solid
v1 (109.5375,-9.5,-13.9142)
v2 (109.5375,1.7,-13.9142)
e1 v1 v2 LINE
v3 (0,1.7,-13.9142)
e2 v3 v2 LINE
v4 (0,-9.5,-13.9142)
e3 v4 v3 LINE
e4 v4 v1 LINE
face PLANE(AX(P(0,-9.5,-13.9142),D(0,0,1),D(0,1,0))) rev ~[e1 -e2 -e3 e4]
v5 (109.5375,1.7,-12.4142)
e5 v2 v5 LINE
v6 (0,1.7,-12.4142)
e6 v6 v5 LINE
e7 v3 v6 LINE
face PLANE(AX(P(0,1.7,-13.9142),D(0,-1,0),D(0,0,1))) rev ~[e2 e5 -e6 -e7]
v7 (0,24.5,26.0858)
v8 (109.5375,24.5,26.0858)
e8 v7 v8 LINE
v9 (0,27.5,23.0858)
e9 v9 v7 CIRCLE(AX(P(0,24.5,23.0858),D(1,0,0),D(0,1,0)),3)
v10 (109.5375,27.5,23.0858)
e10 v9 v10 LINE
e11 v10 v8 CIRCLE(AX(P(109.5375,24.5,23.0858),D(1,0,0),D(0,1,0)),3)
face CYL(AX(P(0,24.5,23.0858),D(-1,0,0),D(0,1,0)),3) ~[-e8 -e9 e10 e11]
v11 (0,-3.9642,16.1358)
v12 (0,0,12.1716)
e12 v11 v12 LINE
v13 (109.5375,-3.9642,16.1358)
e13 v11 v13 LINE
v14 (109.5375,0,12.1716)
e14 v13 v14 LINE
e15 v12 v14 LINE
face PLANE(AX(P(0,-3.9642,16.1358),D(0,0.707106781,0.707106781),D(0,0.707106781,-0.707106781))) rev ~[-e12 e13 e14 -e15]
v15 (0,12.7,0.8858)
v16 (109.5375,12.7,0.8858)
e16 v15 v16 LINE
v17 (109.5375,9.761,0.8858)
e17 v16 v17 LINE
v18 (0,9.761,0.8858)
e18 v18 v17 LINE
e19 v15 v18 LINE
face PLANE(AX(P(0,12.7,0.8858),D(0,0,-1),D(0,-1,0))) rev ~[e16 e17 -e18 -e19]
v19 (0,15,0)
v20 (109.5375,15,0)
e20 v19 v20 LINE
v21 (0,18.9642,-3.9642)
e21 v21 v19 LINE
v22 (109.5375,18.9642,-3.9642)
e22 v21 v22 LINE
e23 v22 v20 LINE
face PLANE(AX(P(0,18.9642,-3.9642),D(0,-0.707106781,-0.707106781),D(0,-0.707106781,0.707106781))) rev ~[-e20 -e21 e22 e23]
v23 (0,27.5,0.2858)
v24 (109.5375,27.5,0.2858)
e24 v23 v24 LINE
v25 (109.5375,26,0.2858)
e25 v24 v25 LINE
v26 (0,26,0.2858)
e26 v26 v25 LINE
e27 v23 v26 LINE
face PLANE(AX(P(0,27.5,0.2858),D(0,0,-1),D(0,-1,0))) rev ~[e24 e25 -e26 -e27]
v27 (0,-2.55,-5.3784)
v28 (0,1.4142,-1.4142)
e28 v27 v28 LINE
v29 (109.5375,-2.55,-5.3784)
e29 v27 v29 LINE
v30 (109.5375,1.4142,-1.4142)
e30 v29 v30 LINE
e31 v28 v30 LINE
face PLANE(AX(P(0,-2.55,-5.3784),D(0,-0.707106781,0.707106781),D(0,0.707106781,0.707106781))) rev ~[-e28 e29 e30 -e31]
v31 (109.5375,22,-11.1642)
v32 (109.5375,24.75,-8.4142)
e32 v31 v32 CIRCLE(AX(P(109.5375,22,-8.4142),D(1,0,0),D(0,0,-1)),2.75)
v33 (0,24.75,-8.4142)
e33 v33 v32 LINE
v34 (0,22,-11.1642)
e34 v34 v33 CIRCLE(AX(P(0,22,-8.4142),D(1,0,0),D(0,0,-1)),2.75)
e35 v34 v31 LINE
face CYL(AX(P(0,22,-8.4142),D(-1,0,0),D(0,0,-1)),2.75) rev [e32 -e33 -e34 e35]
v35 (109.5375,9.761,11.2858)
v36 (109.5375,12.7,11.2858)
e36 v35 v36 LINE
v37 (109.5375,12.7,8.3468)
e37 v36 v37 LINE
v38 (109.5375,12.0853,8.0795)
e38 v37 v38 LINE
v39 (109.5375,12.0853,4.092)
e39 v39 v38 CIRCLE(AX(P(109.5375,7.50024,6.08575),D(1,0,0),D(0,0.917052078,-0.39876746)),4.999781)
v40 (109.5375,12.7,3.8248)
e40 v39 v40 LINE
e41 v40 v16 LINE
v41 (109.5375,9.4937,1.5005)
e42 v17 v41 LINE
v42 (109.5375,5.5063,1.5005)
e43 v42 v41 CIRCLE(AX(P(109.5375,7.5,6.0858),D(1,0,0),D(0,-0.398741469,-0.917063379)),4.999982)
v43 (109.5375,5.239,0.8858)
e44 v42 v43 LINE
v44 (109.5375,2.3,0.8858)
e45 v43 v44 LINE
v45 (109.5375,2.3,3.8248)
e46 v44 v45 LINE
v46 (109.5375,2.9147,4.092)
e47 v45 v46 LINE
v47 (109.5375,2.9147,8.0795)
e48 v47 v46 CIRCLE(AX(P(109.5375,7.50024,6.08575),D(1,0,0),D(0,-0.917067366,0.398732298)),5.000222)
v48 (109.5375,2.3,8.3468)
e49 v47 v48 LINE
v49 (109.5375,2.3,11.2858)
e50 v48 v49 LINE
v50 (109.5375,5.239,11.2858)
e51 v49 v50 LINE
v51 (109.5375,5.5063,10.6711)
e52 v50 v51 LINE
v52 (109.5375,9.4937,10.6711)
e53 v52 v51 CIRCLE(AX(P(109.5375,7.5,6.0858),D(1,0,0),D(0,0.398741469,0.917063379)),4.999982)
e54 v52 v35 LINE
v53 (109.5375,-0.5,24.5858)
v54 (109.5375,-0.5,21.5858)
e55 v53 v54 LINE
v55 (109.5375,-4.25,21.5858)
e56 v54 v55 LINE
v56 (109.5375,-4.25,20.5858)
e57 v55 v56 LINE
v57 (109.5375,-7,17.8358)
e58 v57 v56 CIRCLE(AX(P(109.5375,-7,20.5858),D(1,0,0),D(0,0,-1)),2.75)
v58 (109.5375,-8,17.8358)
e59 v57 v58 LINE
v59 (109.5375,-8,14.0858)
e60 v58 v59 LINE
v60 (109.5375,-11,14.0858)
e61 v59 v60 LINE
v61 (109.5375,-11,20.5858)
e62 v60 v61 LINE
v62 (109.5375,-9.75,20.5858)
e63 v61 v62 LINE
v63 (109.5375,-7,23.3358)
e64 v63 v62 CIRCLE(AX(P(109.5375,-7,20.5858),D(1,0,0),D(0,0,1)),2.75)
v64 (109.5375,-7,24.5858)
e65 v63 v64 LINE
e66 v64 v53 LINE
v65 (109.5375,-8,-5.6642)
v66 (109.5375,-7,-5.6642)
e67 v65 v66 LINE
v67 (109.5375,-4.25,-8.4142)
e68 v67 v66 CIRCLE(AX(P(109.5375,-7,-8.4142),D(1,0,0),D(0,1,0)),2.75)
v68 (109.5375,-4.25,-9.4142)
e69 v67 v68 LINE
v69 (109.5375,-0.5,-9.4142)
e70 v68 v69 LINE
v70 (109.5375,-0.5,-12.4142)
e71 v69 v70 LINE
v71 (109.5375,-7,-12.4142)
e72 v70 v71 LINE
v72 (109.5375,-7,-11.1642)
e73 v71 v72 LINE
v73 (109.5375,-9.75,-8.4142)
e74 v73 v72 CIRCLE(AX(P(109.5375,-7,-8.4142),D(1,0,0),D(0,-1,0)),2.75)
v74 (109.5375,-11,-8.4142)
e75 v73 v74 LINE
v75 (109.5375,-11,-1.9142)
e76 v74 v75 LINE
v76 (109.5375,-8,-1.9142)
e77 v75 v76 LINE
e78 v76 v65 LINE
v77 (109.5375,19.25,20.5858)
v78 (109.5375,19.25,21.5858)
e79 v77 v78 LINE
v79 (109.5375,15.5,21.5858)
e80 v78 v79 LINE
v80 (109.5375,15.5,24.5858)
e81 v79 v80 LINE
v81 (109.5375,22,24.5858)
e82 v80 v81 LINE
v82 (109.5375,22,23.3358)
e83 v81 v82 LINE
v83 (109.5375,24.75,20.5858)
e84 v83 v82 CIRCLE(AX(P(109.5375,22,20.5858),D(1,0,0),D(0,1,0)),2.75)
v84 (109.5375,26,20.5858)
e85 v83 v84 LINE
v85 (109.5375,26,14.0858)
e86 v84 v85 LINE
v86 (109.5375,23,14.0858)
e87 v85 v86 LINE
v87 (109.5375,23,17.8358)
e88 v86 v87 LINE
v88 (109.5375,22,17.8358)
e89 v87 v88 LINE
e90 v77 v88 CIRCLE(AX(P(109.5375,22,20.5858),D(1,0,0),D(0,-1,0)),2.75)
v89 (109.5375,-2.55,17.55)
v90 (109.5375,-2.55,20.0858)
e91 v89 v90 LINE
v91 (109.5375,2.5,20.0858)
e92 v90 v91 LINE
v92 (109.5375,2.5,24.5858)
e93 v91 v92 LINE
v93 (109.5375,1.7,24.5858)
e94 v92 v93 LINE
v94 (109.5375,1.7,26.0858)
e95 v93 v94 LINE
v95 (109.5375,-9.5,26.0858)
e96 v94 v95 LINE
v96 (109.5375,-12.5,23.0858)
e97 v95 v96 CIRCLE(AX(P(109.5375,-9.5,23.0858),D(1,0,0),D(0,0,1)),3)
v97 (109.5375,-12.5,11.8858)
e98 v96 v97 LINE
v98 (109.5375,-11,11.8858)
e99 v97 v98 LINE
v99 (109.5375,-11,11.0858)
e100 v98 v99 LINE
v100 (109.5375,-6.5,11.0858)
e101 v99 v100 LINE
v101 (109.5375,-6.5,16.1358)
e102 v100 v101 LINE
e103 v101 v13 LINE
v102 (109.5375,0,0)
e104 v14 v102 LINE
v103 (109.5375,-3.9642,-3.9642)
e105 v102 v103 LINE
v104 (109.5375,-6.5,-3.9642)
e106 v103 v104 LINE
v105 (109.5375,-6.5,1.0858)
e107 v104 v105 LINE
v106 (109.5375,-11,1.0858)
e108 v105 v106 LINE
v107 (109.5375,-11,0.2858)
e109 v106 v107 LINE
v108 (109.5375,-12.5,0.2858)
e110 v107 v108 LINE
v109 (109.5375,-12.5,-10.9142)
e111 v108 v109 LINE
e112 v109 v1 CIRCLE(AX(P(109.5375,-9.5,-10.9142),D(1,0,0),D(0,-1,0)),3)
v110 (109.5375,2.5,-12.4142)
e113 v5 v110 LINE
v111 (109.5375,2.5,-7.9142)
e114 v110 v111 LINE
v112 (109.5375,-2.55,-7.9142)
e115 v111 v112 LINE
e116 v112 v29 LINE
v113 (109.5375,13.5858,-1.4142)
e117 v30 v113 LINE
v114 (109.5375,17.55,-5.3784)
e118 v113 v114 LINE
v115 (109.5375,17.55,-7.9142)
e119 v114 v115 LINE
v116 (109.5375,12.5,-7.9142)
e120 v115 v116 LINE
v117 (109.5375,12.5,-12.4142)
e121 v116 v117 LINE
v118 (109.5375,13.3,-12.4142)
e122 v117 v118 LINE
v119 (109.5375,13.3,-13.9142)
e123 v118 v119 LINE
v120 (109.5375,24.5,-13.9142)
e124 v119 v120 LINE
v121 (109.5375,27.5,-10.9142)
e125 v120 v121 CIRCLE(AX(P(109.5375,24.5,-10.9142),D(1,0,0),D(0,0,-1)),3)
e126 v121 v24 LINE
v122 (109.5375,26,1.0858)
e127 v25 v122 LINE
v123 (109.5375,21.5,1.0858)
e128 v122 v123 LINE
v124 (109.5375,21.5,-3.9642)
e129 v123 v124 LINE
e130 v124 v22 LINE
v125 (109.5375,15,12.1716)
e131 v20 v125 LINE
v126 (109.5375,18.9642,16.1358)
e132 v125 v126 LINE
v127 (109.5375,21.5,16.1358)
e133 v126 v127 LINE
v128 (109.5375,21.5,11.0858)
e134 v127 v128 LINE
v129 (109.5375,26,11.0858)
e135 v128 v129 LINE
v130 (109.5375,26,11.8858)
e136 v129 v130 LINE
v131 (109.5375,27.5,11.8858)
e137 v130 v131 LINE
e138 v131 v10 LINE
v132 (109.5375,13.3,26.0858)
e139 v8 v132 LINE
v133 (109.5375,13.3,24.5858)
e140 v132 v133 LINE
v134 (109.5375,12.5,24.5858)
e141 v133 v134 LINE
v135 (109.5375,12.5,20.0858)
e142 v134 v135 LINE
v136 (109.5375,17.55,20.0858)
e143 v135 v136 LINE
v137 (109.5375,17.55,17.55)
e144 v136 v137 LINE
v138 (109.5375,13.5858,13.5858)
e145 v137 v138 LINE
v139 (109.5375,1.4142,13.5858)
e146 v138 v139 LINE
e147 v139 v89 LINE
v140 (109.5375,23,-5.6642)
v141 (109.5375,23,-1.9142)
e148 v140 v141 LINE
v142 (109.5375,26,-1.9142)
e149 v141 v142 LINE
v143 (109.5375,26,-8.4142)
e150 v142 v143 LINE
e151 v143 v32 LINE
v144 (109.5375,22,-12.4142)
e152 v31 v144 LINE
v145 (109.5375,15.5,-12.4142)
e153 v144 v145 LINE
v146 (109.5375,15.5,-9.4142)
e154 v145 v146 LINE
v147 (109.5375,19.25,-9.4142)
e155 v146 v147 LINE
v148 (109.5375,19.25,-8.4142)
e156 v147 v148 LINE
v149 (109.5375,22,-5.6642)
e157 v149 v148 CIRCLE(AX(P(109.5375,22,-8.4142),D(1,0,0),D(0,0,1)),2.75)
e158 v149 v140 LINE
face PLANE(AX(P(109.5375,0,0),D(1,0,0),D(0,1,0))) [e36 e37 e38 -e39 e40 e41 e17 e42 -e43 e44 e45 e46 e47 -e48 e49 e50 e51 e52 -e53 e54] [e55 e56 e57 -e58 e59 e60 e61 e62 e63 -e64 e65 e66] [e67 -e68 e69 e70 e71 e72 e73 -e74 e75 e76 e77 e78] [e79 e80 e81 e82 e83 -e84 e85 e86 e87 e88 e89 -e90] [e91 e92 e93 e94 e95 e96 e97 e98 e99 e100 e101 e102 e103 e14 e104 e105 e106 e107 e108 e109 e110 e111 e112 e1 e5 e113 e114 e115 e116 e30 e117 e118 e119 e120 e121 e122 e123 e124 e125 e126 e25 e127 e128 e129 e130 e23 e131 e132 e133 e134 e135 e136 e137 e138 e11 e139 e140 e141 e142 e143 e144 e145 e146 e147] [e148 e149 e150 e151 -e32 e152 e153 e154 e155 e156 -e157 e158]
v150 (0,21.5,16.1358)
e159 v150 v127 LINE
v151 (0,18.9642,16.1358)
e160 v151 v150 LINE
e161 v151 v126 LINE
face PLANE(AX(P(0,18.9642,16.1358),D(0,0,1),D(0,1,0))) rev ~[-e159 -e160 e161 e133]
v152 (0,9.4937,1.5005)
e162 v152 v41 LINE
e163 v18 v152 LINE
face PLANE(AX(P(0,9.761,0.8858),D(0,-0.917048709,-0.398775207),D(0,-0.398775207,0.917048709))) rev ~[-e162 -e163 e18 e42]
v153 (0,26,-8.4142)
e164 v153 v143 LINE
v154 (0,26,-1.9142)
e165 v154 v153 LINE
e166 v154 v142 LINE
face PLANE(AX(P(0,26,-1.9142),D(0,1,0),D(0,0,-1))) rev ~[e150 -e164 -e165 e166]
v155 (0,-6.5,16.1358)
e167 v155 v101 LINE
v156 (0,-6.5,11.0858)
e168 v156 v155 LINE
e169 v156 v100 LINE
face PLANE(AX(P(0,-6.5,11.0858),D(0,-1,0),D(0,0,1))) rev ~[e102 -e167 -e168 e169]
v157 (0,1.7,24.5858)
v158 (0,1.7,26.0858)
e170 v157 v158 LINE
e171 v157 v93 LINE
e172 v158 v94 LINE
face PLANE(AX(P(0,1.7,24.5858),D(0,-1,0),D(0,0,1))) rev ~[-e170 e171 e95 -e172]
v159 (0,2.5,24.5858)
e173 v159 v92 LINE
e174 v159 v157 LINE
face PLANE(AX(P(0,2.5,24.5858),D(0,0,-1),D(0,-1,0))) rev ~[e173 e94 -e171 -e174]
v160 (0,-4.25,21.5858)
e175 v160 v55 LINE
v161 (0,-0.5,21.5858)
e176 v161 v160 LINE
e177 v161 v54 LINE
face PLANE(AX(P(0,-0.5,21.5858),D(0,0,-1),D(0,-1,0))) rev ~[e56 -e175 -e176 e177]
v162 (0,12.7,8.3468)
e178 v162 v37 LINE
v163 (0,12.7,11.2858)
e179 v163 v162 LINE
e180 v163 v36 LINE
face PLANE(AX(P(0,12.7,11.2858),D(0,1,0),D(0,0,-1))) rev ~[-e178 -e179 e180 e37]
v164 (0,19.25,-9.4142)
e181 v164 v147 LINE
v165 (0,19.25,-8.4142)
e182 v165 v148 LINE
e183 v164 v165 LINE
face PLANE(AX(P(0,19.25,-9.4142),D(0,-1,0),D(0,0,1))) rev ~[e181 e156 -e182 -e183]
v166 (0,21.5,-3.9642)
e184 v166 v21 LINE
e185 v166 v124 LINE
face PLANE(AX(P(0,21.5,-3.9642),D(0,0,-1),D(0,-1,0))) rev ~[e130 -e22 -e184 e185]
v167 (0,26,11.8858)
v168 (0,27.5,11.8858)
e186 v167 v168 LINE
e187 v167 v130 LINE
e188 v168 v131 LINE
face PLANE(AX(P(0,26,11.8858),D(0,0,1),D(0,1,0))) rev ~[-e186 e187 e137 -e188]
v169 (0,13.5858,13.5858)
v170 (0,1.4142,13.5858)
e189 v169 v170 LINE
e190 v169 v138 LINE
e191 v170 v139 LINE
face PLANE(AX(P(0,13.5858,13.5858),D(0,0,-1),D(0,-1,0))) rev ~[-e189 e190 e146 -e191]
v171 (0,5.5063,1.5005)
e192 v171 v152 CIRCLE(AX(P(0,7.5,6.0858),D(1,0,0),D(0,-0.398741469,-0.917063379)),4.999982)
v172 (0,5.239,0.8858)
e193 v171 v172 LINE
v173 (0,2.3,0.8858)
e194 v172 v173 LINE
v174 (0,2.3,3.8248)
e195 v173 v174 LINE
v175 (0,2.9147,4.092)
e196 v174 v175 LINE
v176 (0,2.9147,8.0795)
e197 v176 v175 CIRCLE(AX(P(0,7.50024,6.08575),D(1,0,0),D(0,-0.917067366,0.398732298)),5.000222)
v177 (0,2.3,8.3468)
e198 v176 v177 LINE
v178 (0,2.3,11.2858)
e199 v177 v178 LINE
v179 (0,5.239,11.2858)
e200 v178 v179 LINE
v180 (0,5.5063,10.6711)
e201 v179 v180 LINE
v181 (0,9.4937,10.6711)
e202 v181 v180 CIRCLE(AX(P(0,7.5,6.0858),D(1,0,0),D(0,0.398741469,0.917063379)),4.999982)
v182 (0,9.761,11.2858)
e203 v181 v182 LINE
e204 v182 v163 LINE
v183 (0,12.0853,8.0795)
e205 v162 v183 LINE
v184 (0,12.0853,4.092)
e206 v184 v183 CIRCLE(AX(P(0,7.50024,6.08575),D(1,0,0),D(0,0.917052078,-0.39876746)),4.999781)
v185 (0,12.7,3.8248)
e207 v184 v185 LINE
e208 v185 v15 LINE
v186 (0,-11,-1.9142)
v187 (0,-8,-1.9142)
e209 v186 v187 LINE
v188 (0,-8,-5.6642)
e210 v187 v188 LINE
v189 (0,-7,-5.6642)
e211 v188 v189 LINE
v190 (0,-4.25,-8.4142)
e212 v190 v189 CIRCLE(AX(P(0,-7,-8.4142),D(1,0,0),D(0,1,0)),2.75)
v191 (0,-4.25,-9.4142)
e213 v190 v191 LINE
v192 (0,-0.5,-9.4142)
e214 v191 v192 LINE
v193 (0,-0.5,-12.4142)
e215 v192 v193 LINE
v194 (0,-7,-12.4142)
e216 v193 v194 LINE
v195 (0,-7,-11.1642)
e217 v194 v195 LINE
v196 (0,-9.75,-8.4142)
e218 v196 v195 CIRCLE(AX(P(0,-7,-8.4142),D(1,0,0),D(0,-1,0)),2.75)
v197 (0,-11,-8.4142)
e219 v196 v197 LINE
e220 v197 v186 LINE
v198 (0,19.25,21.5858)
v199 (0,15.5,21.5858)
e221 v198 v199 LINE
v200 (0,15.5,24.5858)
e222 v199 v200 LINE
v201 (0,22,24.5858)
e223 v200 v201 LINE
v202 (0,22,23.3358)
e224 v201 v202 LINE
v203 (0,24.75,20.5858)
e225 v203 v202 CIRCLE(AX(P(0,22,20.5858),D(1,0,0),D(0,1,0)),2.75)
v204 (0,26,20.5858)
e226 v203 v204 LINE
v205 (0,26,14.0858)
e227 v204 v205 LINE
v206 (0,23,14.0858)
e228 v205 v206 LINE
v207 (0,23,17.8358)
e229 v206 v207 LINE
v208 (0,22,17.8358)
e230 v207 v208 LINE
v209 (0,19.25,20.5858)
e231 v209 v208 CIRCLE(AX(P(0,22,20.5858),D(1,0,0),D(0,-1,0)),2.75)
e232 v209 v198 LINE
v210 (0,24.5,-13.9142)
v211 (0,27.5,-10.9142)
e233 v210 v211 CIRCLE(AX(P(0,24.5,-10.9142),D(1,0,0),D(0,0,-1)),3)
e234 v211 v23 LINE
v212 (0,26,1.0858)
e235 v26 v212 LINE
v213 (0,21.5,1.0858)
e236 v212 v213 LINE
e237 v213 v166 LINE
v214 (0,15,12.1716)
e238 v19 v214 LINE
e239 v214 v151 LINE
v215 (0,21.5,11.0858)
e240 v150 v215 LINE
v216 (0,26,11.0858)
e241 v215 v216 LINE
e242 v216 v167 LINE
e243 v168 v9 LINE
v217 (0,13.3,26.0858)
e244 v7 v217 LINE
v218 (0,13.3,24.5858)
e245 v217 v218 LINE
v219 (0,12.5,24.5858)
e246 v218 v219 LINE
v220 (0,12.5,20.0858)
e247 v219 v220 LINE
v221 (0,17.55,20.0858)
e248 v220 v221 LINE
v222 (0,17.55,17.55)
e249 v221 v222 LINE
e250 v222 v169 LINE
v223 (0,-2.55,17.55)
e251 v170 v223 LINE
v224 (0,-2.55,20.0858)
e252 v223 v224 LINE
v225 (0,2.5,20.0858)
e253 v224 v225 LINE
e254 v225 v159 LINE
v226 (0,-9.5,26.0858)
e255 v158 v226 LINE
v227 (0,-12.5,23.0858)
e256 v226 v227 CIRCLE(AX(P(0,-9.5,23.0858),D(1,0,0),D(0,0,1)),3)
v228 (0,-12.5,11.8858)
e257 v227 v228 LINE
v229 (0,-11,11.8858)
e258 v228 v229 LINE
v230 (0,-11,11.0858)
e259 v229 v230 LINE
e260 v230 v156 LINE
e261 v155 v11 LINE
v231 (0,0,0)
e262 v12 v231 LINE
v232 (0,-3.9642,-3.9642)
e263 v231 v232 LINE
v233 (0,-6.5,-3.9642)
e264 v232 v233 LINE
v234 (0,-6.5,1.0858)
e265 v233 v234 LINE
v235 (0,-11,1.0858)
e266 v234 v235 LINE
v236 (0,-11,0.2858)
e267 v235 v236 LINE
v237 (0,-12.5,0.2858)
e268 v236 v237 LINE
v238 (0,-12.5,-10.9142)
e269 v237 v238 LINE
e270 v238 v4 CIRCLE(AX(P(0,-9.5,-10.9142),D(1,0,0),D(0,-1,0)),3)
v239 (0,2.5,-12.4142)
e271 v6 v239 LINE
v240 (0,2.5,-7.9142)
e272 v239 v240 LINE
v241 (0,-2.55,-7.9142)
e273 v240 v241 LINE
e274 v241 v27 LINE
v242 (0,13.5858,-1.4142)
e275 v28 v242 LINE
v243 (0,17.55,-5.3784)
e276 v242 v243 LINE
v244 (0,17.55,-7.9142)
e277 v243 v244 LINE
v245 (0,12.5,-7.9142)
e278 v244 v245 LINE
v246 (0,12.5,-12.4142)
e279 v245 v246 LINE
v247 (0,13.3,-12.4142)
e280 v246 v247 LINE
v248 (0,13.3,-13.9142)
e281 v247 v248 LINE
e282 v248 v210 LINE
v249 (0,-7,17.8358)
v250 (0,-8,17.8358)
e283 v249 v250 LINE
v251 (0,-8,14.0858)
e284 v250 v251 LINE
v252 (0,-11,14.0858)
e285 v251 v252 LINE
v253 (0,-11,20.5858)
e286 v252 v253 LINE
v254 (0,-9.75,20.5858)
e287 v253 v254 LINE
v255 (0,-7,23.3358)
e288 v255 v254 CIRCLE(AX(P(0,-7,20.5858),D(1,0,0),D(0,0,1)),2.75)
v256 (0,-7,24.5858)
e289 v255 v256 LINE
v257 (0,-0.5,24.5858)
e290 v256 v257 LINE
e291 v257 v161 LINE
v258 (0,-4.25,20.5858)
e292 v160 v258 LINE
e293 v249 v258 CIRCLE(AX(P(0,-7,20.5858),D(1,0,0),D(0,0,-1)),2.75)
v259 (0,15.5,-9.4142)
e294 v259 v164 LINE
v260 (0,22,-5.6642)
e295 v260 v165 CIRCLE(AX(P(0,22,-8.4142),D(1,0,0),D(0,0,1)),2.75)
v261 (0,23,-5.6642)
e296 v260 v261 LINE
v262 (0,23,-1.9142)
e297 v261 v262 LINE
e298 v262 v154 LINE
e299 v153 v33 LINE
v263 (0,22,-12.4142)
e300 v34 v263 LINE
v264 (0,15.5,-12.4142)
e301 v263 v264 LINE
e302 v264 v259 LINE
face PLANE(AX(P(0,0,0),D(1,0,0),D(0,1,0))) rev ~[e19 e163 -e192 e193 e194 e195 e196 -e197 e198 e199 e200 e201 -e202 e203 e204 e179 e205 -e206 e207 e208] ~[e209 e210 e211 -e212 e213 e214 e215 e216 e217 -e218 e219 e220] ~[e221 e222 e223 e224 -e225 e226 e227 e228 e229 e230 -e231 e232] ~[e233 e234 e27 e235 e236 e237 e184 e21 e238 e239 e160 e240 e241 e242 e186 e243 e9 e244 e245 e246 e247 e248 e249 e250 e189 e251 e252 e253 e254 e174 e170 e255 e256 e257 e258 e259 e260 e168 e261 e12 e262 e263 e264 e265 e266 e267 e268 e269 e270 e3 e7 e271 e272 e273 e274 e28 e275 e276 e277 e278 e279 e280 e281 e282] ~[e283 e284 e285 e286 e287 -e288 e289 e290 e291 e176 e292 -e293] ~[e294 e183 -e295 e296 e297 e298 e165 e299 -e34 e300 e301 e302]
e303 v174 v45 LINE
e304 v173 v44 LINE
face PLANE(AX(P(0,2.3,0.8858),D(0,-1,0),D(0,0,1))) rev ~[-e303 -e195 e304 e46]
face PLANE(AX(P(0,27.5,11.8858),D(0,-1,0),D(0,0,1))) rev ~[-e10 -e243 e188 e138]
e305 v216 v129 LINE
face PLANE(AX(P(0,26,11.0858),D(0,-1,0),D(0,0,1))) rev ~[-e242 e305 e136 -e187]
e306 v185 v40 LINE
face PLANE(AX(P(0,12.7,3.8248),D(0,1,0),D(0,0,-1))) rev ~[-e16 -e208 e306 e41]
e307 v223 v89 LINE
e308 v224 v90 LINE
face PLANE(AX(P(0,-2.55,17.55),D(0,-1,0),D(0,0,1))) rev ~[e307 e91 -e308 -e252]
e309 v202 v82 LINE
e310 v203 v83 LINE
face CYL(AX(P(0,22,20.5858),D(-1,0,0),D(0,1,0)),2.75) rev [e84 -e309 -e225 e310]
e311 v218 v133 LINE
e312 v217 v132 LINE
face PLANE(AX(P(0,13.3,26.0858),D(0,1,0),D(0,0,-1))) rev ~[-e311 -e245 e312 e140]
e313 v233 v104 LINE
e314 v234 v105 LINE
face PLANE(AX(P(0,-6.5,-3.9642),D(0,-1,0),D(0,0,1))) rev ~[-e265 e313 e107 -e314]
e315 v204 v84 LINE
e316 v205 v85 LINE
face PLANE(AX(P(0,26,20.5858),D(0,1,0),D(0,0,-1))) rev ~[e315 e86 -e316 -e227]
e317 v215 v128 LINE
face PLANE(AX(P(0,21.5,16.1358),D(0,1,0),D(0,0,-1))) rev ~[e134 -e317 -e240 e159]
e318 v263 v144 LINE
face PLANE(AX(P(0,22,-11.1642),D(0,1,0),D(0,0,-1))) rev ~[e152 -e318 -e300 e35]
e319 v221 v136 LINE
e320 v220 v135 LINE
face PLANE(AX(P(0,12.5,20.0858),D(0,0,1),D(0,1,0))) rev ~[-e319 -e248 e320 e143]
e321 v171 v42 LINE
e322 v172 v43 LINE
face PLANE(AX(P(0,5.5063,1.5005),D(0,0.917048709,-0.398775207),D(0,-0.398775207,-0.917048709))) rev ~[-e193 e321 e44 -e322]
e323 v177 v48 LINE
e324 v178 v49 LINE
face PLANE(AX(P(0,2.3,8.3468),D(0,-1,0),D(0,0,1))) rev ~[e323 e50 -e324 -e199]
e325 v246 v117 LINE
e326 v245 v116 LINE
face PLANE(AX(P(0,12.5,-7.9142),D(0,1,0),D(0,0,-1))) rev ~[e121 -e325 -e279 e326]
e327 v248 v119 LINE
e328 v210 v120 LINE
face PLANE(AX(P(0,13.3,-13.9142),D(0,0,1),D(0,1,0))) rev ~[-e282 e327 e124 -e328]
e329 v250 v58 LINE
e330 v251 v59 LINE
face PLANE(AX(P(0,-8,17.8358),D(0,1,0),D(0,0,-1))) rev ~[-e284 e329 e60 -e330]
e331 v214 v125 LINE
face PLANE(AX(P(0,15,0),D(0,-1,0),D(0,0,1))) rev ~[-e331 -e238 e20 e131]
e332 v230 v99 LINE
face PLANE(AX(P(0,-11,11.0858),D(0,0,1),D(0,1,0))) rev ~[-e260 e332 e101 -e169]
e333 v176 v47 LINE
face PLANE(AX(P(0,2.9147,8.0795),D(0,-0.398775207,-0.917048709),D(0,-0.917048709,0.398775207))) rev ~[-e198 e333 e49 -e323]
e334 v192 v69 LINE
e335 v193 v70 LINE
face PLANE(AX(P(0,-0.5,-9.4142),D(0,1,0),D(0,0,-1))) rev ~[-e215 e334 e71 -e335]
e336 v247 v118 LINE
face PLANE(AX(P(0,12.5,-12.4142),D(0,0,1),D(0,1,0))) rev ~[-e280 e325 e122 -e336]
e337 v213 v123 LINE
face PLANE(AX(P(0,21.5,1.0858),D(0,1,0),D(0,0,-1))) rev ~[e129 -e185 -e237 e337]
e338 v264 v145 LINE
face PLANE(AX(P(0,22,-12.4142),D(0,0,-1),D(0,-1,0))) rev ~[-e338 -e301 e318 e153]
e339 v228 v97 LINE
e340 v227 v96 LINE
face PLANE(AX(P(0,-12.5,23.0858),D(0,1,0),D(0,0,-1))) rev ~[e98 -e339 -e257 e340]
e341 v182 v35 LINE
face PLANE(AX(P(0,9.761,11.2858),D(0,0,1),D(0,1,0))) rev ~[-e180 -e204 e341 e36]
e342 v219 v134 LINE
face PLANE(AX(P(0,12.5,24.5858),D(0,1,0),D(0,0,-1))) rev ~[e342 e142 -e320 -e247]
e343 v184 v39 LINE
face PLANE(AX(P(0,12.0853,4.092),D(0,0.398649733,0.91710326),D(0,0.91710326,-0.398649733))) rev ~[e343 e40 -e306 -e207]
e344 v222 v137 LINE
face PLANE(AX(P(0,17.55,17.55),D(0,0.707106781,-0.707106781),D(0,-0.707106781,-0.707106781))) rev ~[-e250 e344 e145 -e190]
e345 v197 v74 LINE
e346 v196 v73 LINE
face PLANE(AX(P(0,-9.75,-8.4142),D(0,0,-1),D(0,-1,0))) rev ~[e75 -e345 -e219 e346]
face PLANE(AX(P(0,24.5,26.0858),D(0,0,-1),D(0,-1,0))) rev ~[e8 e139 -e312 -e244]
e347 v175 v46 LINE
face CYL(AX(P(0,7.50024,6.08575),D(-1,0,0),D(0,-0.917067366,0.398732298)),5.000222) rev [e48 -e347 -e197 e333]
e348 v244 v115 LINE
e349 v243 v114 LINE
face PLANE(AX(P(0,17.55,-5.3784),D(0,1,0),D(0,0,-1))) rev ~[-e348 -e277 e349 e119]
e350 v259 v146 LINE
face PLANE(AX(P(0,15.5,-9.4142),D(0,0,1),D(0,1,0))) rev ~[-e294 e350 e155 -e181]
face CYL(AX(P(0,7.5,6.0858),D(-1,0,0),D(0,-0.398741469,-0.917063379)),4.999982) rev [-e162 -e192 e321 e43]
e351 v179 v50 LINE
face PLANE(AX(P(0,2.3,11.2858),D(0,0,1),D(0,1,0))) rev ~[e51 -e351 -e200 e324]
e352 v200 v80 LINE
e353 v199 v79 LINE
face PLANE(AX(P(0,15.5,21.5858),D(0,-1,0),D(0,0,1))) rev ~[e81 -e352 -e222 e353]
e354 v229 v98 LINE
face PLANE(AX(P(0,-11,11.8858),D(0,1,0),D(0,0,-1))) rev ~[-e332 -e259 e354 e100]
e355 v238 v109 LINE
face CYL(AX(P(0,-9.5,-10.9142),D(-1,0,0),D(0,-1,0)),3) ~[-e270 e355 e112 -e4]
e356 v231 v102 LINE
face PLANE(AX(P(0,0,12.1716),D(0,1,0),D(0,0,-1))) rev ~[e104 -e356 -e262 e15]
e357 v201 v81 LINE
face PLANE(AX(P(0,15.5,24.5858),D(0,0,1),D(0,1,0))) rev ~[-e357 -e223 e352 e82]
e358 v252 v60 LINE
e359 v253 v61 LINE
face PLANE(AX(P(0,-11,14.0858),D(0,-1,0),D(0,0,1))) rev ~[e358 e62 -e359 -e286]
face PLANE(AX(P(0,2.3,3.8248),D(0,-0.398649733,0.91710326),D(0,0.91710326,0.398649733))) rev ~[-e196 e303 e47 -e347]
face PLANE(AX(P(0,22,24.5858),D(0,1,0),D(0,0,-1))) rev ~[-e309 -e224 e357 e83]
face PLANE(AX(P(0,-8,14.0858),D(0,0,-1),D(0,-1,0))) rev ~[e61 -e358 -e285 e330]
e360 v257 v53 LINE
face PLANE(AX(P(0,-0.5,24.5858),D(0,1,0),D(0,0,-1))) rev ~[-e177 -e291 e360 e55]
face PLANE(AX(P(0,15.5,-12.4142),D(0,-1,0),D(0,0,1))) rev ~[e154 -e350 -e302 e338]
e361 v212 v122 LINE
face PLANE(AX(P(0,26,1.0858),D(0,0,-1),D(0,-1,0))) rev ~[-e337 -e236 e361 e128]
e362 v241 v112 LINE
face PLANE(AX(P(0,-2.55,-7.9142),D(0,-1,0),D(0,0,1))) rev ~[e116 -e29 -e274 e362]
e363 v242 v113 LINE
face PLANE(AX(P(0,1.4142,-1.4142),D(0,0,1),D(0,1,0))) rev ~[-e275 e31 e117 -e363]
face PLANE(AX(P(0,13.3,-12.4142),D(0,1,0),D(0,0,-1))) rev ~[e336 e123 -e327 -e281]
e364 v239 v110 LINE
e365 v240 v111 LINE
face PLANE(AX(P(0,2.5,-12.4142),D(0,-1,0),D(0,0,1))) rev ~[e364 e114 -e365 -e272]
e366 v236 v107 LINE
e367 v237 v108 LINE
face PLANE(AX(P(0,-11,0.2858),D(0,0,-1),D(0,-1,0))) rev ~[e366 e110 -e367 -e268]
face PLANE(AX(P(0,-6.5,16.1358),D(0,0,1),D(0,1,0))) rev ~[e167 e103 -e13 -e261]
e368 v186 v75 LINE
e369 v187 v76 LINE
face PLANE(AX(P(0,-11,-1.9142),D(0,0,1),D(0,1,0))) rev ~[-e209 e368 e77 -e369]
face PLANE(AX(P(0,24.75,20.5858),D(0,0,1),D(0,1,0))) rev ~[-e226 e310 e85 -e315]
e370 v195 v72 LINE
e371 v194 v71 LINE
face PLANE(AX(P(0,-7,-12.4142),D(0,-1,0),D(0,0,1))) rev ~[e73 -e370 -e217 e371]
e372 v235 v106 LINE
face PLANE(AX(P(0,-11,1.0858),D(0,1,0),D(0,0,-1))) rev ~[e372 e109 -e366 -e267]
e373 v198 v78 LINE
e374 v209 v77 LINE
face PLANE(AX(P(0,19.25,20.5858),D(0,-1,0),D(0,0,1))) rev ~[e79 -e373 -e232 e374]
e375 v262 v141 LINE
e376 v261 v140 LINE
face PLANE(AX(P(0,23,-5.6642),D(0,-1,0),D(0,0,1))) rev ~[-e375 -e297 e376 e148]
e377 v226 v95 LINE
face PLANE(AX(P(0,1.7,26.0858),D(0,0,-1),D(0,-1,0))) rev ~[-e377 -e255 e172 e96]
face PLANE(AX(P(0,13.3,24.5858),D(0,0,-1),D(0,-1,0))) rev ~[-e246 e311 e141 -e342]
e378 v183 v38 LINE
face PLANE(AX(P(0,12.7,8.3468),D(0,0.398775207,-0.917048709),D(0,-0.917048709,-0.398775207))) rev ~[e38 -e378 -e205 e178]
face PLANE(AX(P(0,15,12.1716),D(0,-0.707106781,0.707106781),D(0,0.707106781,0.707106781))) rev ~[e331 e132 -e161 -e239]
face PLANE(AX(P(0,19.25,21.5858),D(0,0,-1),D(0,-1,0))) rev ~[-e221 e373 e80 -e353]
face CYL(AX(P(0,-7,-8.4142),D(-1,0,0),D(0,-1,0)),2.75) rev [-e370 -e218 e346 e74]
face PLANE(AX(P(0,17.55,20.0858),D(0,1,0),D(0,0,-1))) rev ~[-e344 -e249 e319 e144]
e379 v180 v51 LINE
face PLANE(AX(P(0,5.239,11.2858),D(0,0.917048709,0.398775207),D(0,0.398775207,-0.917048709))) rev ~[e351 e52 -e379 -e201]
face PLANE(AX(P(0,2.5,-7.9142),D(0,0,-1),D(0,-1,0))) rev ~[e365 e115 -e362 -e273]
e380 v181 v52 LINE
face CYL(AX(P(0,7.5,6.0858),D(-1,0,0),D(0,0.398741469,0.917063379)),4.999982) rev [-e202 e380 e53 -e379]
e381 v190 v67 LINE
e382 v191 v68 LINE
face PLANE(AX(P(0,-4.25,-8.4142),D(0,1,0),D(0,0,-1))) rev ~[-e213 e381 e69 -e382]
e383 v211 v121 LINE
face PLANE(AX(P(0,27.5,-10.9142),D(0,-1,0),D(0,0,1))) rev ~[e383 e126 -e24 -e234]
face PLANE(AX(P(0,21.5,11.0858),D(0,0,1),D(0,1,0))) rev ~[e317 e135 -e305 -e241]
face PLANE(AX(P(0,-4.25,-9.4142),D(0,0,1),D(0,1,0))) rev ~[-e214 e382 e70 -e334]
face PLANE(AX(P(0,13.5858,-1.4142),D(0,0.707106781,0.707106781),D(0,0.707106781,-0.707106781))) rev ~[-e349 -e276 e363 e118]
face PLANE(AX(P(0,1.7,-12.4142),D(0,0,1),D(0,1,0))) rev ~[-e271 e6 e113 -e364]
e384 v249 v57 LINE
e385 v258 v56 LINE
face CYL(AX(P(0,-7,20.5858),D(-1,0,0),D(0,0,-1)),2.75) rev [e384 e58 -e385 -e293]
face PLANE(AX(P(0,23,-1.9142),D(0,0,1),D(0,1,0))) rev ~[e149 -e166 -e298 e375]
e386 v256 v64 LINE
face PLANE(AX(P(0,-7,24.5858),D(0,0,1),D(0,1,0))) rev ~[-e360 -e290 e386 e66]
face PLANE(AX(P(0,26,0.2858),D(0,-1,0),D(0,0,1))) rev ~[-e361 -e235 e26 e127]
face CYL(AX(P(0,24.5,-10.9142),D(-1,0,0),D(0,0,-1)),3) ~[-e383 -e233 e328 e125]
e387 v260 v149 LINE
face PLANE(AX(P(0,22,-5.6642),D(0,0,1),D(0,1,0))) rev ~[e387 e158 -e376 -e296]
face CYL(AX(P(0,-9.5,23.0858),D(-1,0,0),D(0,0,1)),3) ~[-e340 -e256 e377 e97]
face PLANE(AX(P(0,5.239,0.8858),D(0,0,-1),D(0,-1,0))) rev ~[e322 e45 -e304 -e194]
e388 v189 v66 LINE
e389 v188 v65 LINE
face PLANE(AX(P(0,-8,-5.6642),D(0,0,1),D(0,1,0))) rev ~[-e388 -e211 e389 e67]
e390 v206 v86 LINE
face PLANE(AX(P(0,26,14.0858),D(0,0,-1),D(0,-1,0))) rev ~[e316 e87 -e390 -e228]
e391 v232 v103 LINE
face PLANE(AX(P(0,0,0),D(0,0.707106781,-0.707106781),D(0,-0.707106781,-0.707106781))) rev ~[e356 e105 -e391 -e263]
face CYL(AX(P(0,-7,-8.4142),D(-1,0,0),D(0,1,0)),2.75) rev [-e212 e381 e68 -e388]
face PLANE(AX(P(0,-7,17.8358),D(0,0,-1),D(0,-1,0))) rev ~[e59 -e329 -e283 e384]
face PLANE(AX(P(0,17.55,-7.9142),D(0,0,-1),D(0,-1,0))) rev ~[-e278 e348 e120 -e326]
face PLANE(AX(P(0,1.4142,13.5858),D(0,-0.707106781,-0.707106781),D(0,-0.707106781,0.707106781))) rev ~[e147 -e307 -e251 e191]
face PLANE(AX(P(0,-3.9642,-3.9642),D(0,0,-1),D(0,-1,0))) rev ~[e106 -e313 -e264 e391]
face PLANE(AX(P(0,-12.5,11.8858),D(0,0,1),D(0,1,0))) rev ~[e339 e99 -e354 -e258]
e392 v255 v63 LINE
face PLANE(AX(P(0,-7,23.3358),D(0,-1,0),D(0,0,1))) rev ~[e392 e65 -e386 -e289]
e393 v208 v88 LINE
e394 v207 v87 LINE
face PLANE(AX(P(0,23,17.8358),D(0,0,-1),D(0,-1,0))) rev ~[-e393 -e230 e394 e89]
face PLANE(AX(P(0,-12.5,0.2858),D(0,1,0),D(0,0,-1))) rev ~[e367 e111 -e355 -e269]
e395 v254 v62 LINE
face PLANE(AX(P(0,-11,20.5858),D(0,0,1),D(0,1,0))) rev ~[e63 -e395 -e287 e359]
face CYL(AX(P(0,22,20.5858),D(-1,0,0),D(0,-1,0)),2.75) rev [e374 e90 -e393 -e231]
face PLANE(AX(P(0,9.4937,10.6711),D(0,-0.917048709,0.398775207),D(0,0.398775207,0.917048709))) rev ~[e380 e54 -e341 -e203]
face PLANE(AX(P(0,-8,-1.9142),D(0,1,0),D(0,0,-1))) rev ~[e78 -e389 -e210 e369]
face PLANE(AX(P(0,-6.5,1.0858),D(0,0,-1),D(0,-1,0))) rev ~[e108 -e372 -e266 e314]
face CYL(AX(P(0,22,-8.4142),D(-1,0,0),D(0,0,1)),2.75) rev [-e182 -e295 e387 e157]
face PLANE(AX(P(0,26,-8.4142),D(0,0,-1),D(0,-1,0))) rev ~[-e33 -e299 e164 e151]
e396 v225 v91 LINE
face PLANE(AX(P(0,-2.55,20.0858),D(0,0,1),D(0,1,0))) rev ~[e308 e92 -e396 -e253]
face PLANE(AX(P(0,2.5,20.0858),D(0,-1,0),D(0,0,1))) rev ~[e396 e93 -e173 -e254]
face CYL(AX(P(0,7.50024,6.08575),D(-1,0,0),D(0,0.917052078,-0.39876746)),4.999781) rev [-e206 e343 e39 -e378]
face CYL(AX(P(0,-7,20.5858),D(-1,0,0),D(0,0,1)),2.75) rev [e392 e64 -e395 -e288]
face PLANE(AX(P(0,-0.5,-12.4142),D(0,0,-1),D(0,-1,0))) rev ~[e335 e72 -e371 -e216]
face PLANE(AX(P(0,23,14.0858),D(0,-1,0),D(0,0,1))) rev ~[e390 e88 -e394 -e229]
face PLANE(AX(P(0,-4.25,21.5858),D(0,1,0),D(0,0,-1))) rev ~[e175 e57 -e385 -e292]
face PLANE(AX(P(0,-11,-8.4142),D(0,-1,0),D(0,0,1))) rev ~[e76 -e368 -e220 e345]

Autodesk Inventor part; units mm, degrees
ref_plane "YZ Plane" through (0, 0, 0) normal (1, 0, 0) x (0, 1, 0)
ref_plane "XZ Plane" through (0, 0, 0) normal (0, 1, 0) x (-1, 0, 0)
ref_plane "XY Plane" through (0, 0, 0) normal (0, 0, 1) x (1, 0, 0)
sketch "Sketch1" plane through (0, 0, 0) normal (1, 0, 0) x (0, 1, 0)
  line L0 (0, 12.1716) -> (0, 0)
  line L1 (0, 0) -> (-3.9642, -3.9642)
  line L2 (-3.9642, -3.9642) -> (-6.5, -3.9642)
  line L3 (-6.5, -3.9642) -> (-6.5, 1.0858)
  line L4 (-6.5, 1.0858) -> (-11, 1.0858)
  line L5 (-11, 1.0858) -> (-11, 0.2858)
  line L6 (-11, 0.2858) -> (-12.5, 0.2858)
  line L7 (-12.5, 0.2858) -> (-12.5, -10.9142)
  arc A0 (-12.5, -10.9142) -> (-9.5, -13.9142) centre (-9.5, -10.9142) ccw
  line L8 (-9.5, -13.9142) -> (1.7, -13.9142)
  line L9 (1.7, -13.9142) -> (1.7, -12.4142)
  line L10 (1.7, -12.4142) -> (2.5, -12.4142)
  line L11 (2.5, -12.4142) -> (2.5, -7.9142)
  line L12 (2.5, -7.9142) -> (-2.55, -7.9142)
  line L13 (-2.55, -7.9142) -> (-2.55, -5.3784)
  line L14 (-2.55, -5.3784) -> (1.4142, -1.4142)
  line L15 (1.4142, -1.4142) -> (13.5858, -1.4142)
  line L16 (13.5858, -1.4142) -> (17.55, -5.3784)
  line L17 (17.55, -5.3784) -> (17.55, -7.9142)
  line L18 (17.55, -7.9142) -> (12.5, -7.9142)
  line L19 (12.5, -7.9142) -> (12.5, -12.4142)
  line L20 (12.5, -12.4142) -> (13.3, -12.4142)
  line L21 (13.3, -12.4142) -> (13.3, -13.9142)
  line L22 (13.3, -13.9142) -> (24.5, -13.9142)
  arc A1 (24.5, -13.9142) -> (27.5, -10.9142) centre (24.5, -10.9142) ccw
  line L23 (27.5, -10.9142) -> (27.5, 0.2858)
  line L24 (27.5, 0.2858) -> (26, 0.2858)
  line L25 (26, 0.2858) -> (26, 1.0858)
  line L26 (26, 1.0858) -> (21.5, 1.0858)
  line L27 (21.5, 1.0858) -> (21.5, -3.9642)
  line L28 (21.5, -3.9642) -> (18.9642, -3.9642)
  line L29 (18.9642, -3.9642) -> (15, 0)
  line L30 (15, 0) -> (15, 12.1716)
  line L31 (15, 12.1716) -> (18.9642, 16.1358)
  line L32 (18.9642, 16.1358) -> (21.5, 16.1358)
  line L33 (21.5, 16.1358) -> (21.5, 11.0858)
  line L34 (21.5, 11.0858) -> (26, 11.0858)
  line L35 (26, 11.0858) -> (26, 11.8858)
  line L36 (26, 11.8858) -> (27.5, 11.8858)
  line L37 (27.5, 11.8858) -> (27.5, 23.0858)
  arc A2 (27.5, 23.0858) -> (24.5, 26.0858) centre (24.5, 23.0858) ccw
  line L38 (24.5, 26.0858) -> (13.3, 26.0858)
  line L39 (13.3, 26.0858) -> (13.3, 24.5858)
  line L40 (13.3, 24.5858) -> (12.5, 24.5858)
  line L41 (12.5, 24.5858) -> (12.5, 20.0858)
  line L42 (12.5, 20.0858) -> (17.55, 20.0858)
  line L43 (17.55, 20.0858) -> (17.55, 17.55)
  line L44 (17.55, 17.55) -> (13.5858, 13.5858)
  line L45 (13.5858, 13.5858) -> (1.4142, 13.5858)
  line L46 (1.4142, 13.5858) -> (-2.55, 17.55)
  line L47 (-2.55, 17.55) -> (-2.55, 20.0858)
  line L48 (-2.55, 20.0858) -> (2.5, 20.0858)
  line L49 (2.5, 20.0858) -> (2.5, 24.5858)
  line L50 (2.5, 24.5858) -> (1.7, 24.5858)
  line L51 (1.7, 24.5858) -> (1.7, 26.0858)
  line L52 (1.7, 26.0858) -> (-9.5, 26.0858)
  arc A3 (-9.5, 26.0858) -> (-12.5, 23.0858) centre (-9.5, 23.0858) ccw
  line L53 (-12.5, 23.0858) -> (-12.5, 11.8858)
  line L54 (-12.5, 11.8858) -> (-11, 11.8858)
  line L55 (-11, 11.8858) -> (-11, 11.0858)
  line L56 (-11, 11.0858) -> (-6.5, 11.0858)
  line L57 (-6.5, 11.0858) -> (-6.5, 16.1358)
  line L58 (-6.5, 16.1358) -> (-3.9642, 16.1358)
  line L59 (-3.9642, 16.1358) -> (0, 12.1716)
  line L60 (-0.5, 24.5858) -> (-0.5, 21.5858)
  line L61 (-0.5, 21.5858) -> (-4.25, 21.5858)
  line L62 (-4.25, 21.5858) -> (-4.25, 20.5858)
  arc A4 (-7, 17.8358) -> (-4.25, 20.5858) centre (-7, 20.5858) ccw
  line L63 (-7, 17.8358) -> (-8, 17.8358)
  line L64 (-8, 17.8358) -> (-8, 14.0858)
  line L65 (-8, 14.0858) -> (-11, 14.0858)
  line L66 (-11, 14.0858) -> (-11, 20.5858)
  line L67 (-11, 20.5858) -> (-9.75, 20.5858)
  arc A5 (-7, 23.3358) -> (-9.75, 20.5858) centre (-7, 20.5858) ccw
  line L68 (-7, 23.3358) -> (-7, 24.5858)
  line L69 (-7, 24.5858) -> (-0.5, 24.5858)
  line L70 (26, 14.0858) -> (23, 14.0858)
  line L71 (23, 14.0858) -> (23, 17.8358)
  line L72 (23, 17.8358) -> (22, 17.8358)
  arc A6 (19.25, 20.5858) -> (22, 17.8358) centre (22, 20.5858) ccw
  line L73 (19.25, 20.5858) -> (19.25, 21.5858)
  line L74 (19.25, 21.5858) -> (15.5, 21.5858)
  line L75 (15.5, 21.5858) -> (15.5, 24.5858)
  line L76 (15.5, 24.5858) -> (22, 24.5858)
  line L77 (22, 24.5858) -> (22, 23.3358)
  arc A7 (24.75, 20.5858) -> (22, 23.3358) centre (22, 20.5858) ccw
  line L78 (24.75, 20.5858) -> (26, 20.5858)
  line L79 (26, 20.5858) -> (26, 14.0858)
  line L80 (15.5, -12.4142) -> (15.5, -9.4142)
  line L81 (15.5, -9.4142) -> (19.25, -9.4142)
  line L82 (19.25, -9.4142) -> (19.25, -8.4142)
  arc A8 (22, -5.6642) -> (19.25, -8.4142) centre (22, -8.4142) ccw
  line L83 (22, -5.6642) -> (23, -5.6642)
  line L84 (23, -5.6642) -> (23, -1.9142)
  line L85 (23, -1.9142) -> (26, -1.9142)
  line L86 (26, -1.9142) -> (26, -8.4142)
  line L87 (26, -8.4142) -> (24.75, -8.4142)
  arc A9 (22, -11.1642) -> (24.75, -8.4142) centre (22, -8.4142) ccw
  line L88 (22, -11.1642) -> (22, -12.4142)
  line L89 (22, -12.4142) -> (15.5, -12.4142)
  line L90 (9.761, 0.8858) -> (9.4937, 1.5005)
  arc A10 (5.5063, 1.5005) -> (9.4937, 1.5005) centre (7.5, 6.0858) ccw
  line L91 (5.5063, 1.5005) -> (5.239, 0.8858)
  line L92 (5.239, 0.8858) -> (2.3, 0.8858)
  line L93 (2.3, 0.8858) -> (2.3, 3.8248)
  line L94 (2.3, 3.8248) -> (2.9147, 4.092)
  arc A11 (2.9147, 8.0795) -> (2.9147, 4.092) centre (7.5, 6.0858) ccw
  line L95 (2.9147, 8.0795) -> (2.3, 8.3468)
  line L96 (2.3, 8.3468) -> (2.3, 11.2858)
  line L97 (2.3, 11.2858) -> (5.239, 11.2858)
  line L98 (5.239, 11.2858) -> (5.5063, 10.6711)
  arc A12 (9.4937, 10.6711) -> (5.5063, 10.6711) centre (7.5, 6.0858) ccw
  line L99 (9.4937, 10.6711) -> (9.761, 11.2858)
  line L100 (9.761, 11.2858) -> (12.7, 11.2858)
  line L101 (12.7, 11.2858) -> (12.7, 8.3468)
  line L102 (12.7, 8.3468) -> (12.0853, 8.0795)
  arc A13 (12.0853, 4.092) -> (12.0853, 8.0795) centre (7.5, 6.0858) ccw
  line L103 (12.0853, 4.092) -> (12.7, 3.8248)
  line L104 (12.7, 3.8248) -> (12.7, 0.8858)
  line L105 (12.7, 0.8858) -> (9.761, 0.8858)
  line L106 (-11, -1.9142) -> (-8, -1.9142)
  line L107 (-8, -1.9142) -> (-8, -5.6642)
  line L108 (-8, -5.6642) -> (-7, -5.6642)
  arc A14 (-4.25, -8.4142) -> (-7, -5.6642) centre (-7, -8.4142) ccw
  line L109 (-4.25, -8.4142) -> (-4.25, -9.4142)
  line L110 (-4.25, -9.4142) -> (-0.5, -9.4142)
  line L111 (-0.5, -9.4142) -> (-0.5, -12.4142)
  line L112 (-0.5, -12.4142) -> (-7, -12.4142)
  line L113 (-7, -12.4142) -> (-7, -11.1642)
  arc A15 (-9.75, -8.4142) -> (-7, -11.1642) centre (-7, -8.4142) ccw
  line L114 (-9.75, -8.4142) -> (-11, -8.4142)
  line L115 (-11, -8.4142) -> (-11, -1.9142)
extrude "Extrusion1" add sketch "Sketch1" along normal blind 109.5375
properties part number "aim rail cross brace" material "Aluminum-6061"
